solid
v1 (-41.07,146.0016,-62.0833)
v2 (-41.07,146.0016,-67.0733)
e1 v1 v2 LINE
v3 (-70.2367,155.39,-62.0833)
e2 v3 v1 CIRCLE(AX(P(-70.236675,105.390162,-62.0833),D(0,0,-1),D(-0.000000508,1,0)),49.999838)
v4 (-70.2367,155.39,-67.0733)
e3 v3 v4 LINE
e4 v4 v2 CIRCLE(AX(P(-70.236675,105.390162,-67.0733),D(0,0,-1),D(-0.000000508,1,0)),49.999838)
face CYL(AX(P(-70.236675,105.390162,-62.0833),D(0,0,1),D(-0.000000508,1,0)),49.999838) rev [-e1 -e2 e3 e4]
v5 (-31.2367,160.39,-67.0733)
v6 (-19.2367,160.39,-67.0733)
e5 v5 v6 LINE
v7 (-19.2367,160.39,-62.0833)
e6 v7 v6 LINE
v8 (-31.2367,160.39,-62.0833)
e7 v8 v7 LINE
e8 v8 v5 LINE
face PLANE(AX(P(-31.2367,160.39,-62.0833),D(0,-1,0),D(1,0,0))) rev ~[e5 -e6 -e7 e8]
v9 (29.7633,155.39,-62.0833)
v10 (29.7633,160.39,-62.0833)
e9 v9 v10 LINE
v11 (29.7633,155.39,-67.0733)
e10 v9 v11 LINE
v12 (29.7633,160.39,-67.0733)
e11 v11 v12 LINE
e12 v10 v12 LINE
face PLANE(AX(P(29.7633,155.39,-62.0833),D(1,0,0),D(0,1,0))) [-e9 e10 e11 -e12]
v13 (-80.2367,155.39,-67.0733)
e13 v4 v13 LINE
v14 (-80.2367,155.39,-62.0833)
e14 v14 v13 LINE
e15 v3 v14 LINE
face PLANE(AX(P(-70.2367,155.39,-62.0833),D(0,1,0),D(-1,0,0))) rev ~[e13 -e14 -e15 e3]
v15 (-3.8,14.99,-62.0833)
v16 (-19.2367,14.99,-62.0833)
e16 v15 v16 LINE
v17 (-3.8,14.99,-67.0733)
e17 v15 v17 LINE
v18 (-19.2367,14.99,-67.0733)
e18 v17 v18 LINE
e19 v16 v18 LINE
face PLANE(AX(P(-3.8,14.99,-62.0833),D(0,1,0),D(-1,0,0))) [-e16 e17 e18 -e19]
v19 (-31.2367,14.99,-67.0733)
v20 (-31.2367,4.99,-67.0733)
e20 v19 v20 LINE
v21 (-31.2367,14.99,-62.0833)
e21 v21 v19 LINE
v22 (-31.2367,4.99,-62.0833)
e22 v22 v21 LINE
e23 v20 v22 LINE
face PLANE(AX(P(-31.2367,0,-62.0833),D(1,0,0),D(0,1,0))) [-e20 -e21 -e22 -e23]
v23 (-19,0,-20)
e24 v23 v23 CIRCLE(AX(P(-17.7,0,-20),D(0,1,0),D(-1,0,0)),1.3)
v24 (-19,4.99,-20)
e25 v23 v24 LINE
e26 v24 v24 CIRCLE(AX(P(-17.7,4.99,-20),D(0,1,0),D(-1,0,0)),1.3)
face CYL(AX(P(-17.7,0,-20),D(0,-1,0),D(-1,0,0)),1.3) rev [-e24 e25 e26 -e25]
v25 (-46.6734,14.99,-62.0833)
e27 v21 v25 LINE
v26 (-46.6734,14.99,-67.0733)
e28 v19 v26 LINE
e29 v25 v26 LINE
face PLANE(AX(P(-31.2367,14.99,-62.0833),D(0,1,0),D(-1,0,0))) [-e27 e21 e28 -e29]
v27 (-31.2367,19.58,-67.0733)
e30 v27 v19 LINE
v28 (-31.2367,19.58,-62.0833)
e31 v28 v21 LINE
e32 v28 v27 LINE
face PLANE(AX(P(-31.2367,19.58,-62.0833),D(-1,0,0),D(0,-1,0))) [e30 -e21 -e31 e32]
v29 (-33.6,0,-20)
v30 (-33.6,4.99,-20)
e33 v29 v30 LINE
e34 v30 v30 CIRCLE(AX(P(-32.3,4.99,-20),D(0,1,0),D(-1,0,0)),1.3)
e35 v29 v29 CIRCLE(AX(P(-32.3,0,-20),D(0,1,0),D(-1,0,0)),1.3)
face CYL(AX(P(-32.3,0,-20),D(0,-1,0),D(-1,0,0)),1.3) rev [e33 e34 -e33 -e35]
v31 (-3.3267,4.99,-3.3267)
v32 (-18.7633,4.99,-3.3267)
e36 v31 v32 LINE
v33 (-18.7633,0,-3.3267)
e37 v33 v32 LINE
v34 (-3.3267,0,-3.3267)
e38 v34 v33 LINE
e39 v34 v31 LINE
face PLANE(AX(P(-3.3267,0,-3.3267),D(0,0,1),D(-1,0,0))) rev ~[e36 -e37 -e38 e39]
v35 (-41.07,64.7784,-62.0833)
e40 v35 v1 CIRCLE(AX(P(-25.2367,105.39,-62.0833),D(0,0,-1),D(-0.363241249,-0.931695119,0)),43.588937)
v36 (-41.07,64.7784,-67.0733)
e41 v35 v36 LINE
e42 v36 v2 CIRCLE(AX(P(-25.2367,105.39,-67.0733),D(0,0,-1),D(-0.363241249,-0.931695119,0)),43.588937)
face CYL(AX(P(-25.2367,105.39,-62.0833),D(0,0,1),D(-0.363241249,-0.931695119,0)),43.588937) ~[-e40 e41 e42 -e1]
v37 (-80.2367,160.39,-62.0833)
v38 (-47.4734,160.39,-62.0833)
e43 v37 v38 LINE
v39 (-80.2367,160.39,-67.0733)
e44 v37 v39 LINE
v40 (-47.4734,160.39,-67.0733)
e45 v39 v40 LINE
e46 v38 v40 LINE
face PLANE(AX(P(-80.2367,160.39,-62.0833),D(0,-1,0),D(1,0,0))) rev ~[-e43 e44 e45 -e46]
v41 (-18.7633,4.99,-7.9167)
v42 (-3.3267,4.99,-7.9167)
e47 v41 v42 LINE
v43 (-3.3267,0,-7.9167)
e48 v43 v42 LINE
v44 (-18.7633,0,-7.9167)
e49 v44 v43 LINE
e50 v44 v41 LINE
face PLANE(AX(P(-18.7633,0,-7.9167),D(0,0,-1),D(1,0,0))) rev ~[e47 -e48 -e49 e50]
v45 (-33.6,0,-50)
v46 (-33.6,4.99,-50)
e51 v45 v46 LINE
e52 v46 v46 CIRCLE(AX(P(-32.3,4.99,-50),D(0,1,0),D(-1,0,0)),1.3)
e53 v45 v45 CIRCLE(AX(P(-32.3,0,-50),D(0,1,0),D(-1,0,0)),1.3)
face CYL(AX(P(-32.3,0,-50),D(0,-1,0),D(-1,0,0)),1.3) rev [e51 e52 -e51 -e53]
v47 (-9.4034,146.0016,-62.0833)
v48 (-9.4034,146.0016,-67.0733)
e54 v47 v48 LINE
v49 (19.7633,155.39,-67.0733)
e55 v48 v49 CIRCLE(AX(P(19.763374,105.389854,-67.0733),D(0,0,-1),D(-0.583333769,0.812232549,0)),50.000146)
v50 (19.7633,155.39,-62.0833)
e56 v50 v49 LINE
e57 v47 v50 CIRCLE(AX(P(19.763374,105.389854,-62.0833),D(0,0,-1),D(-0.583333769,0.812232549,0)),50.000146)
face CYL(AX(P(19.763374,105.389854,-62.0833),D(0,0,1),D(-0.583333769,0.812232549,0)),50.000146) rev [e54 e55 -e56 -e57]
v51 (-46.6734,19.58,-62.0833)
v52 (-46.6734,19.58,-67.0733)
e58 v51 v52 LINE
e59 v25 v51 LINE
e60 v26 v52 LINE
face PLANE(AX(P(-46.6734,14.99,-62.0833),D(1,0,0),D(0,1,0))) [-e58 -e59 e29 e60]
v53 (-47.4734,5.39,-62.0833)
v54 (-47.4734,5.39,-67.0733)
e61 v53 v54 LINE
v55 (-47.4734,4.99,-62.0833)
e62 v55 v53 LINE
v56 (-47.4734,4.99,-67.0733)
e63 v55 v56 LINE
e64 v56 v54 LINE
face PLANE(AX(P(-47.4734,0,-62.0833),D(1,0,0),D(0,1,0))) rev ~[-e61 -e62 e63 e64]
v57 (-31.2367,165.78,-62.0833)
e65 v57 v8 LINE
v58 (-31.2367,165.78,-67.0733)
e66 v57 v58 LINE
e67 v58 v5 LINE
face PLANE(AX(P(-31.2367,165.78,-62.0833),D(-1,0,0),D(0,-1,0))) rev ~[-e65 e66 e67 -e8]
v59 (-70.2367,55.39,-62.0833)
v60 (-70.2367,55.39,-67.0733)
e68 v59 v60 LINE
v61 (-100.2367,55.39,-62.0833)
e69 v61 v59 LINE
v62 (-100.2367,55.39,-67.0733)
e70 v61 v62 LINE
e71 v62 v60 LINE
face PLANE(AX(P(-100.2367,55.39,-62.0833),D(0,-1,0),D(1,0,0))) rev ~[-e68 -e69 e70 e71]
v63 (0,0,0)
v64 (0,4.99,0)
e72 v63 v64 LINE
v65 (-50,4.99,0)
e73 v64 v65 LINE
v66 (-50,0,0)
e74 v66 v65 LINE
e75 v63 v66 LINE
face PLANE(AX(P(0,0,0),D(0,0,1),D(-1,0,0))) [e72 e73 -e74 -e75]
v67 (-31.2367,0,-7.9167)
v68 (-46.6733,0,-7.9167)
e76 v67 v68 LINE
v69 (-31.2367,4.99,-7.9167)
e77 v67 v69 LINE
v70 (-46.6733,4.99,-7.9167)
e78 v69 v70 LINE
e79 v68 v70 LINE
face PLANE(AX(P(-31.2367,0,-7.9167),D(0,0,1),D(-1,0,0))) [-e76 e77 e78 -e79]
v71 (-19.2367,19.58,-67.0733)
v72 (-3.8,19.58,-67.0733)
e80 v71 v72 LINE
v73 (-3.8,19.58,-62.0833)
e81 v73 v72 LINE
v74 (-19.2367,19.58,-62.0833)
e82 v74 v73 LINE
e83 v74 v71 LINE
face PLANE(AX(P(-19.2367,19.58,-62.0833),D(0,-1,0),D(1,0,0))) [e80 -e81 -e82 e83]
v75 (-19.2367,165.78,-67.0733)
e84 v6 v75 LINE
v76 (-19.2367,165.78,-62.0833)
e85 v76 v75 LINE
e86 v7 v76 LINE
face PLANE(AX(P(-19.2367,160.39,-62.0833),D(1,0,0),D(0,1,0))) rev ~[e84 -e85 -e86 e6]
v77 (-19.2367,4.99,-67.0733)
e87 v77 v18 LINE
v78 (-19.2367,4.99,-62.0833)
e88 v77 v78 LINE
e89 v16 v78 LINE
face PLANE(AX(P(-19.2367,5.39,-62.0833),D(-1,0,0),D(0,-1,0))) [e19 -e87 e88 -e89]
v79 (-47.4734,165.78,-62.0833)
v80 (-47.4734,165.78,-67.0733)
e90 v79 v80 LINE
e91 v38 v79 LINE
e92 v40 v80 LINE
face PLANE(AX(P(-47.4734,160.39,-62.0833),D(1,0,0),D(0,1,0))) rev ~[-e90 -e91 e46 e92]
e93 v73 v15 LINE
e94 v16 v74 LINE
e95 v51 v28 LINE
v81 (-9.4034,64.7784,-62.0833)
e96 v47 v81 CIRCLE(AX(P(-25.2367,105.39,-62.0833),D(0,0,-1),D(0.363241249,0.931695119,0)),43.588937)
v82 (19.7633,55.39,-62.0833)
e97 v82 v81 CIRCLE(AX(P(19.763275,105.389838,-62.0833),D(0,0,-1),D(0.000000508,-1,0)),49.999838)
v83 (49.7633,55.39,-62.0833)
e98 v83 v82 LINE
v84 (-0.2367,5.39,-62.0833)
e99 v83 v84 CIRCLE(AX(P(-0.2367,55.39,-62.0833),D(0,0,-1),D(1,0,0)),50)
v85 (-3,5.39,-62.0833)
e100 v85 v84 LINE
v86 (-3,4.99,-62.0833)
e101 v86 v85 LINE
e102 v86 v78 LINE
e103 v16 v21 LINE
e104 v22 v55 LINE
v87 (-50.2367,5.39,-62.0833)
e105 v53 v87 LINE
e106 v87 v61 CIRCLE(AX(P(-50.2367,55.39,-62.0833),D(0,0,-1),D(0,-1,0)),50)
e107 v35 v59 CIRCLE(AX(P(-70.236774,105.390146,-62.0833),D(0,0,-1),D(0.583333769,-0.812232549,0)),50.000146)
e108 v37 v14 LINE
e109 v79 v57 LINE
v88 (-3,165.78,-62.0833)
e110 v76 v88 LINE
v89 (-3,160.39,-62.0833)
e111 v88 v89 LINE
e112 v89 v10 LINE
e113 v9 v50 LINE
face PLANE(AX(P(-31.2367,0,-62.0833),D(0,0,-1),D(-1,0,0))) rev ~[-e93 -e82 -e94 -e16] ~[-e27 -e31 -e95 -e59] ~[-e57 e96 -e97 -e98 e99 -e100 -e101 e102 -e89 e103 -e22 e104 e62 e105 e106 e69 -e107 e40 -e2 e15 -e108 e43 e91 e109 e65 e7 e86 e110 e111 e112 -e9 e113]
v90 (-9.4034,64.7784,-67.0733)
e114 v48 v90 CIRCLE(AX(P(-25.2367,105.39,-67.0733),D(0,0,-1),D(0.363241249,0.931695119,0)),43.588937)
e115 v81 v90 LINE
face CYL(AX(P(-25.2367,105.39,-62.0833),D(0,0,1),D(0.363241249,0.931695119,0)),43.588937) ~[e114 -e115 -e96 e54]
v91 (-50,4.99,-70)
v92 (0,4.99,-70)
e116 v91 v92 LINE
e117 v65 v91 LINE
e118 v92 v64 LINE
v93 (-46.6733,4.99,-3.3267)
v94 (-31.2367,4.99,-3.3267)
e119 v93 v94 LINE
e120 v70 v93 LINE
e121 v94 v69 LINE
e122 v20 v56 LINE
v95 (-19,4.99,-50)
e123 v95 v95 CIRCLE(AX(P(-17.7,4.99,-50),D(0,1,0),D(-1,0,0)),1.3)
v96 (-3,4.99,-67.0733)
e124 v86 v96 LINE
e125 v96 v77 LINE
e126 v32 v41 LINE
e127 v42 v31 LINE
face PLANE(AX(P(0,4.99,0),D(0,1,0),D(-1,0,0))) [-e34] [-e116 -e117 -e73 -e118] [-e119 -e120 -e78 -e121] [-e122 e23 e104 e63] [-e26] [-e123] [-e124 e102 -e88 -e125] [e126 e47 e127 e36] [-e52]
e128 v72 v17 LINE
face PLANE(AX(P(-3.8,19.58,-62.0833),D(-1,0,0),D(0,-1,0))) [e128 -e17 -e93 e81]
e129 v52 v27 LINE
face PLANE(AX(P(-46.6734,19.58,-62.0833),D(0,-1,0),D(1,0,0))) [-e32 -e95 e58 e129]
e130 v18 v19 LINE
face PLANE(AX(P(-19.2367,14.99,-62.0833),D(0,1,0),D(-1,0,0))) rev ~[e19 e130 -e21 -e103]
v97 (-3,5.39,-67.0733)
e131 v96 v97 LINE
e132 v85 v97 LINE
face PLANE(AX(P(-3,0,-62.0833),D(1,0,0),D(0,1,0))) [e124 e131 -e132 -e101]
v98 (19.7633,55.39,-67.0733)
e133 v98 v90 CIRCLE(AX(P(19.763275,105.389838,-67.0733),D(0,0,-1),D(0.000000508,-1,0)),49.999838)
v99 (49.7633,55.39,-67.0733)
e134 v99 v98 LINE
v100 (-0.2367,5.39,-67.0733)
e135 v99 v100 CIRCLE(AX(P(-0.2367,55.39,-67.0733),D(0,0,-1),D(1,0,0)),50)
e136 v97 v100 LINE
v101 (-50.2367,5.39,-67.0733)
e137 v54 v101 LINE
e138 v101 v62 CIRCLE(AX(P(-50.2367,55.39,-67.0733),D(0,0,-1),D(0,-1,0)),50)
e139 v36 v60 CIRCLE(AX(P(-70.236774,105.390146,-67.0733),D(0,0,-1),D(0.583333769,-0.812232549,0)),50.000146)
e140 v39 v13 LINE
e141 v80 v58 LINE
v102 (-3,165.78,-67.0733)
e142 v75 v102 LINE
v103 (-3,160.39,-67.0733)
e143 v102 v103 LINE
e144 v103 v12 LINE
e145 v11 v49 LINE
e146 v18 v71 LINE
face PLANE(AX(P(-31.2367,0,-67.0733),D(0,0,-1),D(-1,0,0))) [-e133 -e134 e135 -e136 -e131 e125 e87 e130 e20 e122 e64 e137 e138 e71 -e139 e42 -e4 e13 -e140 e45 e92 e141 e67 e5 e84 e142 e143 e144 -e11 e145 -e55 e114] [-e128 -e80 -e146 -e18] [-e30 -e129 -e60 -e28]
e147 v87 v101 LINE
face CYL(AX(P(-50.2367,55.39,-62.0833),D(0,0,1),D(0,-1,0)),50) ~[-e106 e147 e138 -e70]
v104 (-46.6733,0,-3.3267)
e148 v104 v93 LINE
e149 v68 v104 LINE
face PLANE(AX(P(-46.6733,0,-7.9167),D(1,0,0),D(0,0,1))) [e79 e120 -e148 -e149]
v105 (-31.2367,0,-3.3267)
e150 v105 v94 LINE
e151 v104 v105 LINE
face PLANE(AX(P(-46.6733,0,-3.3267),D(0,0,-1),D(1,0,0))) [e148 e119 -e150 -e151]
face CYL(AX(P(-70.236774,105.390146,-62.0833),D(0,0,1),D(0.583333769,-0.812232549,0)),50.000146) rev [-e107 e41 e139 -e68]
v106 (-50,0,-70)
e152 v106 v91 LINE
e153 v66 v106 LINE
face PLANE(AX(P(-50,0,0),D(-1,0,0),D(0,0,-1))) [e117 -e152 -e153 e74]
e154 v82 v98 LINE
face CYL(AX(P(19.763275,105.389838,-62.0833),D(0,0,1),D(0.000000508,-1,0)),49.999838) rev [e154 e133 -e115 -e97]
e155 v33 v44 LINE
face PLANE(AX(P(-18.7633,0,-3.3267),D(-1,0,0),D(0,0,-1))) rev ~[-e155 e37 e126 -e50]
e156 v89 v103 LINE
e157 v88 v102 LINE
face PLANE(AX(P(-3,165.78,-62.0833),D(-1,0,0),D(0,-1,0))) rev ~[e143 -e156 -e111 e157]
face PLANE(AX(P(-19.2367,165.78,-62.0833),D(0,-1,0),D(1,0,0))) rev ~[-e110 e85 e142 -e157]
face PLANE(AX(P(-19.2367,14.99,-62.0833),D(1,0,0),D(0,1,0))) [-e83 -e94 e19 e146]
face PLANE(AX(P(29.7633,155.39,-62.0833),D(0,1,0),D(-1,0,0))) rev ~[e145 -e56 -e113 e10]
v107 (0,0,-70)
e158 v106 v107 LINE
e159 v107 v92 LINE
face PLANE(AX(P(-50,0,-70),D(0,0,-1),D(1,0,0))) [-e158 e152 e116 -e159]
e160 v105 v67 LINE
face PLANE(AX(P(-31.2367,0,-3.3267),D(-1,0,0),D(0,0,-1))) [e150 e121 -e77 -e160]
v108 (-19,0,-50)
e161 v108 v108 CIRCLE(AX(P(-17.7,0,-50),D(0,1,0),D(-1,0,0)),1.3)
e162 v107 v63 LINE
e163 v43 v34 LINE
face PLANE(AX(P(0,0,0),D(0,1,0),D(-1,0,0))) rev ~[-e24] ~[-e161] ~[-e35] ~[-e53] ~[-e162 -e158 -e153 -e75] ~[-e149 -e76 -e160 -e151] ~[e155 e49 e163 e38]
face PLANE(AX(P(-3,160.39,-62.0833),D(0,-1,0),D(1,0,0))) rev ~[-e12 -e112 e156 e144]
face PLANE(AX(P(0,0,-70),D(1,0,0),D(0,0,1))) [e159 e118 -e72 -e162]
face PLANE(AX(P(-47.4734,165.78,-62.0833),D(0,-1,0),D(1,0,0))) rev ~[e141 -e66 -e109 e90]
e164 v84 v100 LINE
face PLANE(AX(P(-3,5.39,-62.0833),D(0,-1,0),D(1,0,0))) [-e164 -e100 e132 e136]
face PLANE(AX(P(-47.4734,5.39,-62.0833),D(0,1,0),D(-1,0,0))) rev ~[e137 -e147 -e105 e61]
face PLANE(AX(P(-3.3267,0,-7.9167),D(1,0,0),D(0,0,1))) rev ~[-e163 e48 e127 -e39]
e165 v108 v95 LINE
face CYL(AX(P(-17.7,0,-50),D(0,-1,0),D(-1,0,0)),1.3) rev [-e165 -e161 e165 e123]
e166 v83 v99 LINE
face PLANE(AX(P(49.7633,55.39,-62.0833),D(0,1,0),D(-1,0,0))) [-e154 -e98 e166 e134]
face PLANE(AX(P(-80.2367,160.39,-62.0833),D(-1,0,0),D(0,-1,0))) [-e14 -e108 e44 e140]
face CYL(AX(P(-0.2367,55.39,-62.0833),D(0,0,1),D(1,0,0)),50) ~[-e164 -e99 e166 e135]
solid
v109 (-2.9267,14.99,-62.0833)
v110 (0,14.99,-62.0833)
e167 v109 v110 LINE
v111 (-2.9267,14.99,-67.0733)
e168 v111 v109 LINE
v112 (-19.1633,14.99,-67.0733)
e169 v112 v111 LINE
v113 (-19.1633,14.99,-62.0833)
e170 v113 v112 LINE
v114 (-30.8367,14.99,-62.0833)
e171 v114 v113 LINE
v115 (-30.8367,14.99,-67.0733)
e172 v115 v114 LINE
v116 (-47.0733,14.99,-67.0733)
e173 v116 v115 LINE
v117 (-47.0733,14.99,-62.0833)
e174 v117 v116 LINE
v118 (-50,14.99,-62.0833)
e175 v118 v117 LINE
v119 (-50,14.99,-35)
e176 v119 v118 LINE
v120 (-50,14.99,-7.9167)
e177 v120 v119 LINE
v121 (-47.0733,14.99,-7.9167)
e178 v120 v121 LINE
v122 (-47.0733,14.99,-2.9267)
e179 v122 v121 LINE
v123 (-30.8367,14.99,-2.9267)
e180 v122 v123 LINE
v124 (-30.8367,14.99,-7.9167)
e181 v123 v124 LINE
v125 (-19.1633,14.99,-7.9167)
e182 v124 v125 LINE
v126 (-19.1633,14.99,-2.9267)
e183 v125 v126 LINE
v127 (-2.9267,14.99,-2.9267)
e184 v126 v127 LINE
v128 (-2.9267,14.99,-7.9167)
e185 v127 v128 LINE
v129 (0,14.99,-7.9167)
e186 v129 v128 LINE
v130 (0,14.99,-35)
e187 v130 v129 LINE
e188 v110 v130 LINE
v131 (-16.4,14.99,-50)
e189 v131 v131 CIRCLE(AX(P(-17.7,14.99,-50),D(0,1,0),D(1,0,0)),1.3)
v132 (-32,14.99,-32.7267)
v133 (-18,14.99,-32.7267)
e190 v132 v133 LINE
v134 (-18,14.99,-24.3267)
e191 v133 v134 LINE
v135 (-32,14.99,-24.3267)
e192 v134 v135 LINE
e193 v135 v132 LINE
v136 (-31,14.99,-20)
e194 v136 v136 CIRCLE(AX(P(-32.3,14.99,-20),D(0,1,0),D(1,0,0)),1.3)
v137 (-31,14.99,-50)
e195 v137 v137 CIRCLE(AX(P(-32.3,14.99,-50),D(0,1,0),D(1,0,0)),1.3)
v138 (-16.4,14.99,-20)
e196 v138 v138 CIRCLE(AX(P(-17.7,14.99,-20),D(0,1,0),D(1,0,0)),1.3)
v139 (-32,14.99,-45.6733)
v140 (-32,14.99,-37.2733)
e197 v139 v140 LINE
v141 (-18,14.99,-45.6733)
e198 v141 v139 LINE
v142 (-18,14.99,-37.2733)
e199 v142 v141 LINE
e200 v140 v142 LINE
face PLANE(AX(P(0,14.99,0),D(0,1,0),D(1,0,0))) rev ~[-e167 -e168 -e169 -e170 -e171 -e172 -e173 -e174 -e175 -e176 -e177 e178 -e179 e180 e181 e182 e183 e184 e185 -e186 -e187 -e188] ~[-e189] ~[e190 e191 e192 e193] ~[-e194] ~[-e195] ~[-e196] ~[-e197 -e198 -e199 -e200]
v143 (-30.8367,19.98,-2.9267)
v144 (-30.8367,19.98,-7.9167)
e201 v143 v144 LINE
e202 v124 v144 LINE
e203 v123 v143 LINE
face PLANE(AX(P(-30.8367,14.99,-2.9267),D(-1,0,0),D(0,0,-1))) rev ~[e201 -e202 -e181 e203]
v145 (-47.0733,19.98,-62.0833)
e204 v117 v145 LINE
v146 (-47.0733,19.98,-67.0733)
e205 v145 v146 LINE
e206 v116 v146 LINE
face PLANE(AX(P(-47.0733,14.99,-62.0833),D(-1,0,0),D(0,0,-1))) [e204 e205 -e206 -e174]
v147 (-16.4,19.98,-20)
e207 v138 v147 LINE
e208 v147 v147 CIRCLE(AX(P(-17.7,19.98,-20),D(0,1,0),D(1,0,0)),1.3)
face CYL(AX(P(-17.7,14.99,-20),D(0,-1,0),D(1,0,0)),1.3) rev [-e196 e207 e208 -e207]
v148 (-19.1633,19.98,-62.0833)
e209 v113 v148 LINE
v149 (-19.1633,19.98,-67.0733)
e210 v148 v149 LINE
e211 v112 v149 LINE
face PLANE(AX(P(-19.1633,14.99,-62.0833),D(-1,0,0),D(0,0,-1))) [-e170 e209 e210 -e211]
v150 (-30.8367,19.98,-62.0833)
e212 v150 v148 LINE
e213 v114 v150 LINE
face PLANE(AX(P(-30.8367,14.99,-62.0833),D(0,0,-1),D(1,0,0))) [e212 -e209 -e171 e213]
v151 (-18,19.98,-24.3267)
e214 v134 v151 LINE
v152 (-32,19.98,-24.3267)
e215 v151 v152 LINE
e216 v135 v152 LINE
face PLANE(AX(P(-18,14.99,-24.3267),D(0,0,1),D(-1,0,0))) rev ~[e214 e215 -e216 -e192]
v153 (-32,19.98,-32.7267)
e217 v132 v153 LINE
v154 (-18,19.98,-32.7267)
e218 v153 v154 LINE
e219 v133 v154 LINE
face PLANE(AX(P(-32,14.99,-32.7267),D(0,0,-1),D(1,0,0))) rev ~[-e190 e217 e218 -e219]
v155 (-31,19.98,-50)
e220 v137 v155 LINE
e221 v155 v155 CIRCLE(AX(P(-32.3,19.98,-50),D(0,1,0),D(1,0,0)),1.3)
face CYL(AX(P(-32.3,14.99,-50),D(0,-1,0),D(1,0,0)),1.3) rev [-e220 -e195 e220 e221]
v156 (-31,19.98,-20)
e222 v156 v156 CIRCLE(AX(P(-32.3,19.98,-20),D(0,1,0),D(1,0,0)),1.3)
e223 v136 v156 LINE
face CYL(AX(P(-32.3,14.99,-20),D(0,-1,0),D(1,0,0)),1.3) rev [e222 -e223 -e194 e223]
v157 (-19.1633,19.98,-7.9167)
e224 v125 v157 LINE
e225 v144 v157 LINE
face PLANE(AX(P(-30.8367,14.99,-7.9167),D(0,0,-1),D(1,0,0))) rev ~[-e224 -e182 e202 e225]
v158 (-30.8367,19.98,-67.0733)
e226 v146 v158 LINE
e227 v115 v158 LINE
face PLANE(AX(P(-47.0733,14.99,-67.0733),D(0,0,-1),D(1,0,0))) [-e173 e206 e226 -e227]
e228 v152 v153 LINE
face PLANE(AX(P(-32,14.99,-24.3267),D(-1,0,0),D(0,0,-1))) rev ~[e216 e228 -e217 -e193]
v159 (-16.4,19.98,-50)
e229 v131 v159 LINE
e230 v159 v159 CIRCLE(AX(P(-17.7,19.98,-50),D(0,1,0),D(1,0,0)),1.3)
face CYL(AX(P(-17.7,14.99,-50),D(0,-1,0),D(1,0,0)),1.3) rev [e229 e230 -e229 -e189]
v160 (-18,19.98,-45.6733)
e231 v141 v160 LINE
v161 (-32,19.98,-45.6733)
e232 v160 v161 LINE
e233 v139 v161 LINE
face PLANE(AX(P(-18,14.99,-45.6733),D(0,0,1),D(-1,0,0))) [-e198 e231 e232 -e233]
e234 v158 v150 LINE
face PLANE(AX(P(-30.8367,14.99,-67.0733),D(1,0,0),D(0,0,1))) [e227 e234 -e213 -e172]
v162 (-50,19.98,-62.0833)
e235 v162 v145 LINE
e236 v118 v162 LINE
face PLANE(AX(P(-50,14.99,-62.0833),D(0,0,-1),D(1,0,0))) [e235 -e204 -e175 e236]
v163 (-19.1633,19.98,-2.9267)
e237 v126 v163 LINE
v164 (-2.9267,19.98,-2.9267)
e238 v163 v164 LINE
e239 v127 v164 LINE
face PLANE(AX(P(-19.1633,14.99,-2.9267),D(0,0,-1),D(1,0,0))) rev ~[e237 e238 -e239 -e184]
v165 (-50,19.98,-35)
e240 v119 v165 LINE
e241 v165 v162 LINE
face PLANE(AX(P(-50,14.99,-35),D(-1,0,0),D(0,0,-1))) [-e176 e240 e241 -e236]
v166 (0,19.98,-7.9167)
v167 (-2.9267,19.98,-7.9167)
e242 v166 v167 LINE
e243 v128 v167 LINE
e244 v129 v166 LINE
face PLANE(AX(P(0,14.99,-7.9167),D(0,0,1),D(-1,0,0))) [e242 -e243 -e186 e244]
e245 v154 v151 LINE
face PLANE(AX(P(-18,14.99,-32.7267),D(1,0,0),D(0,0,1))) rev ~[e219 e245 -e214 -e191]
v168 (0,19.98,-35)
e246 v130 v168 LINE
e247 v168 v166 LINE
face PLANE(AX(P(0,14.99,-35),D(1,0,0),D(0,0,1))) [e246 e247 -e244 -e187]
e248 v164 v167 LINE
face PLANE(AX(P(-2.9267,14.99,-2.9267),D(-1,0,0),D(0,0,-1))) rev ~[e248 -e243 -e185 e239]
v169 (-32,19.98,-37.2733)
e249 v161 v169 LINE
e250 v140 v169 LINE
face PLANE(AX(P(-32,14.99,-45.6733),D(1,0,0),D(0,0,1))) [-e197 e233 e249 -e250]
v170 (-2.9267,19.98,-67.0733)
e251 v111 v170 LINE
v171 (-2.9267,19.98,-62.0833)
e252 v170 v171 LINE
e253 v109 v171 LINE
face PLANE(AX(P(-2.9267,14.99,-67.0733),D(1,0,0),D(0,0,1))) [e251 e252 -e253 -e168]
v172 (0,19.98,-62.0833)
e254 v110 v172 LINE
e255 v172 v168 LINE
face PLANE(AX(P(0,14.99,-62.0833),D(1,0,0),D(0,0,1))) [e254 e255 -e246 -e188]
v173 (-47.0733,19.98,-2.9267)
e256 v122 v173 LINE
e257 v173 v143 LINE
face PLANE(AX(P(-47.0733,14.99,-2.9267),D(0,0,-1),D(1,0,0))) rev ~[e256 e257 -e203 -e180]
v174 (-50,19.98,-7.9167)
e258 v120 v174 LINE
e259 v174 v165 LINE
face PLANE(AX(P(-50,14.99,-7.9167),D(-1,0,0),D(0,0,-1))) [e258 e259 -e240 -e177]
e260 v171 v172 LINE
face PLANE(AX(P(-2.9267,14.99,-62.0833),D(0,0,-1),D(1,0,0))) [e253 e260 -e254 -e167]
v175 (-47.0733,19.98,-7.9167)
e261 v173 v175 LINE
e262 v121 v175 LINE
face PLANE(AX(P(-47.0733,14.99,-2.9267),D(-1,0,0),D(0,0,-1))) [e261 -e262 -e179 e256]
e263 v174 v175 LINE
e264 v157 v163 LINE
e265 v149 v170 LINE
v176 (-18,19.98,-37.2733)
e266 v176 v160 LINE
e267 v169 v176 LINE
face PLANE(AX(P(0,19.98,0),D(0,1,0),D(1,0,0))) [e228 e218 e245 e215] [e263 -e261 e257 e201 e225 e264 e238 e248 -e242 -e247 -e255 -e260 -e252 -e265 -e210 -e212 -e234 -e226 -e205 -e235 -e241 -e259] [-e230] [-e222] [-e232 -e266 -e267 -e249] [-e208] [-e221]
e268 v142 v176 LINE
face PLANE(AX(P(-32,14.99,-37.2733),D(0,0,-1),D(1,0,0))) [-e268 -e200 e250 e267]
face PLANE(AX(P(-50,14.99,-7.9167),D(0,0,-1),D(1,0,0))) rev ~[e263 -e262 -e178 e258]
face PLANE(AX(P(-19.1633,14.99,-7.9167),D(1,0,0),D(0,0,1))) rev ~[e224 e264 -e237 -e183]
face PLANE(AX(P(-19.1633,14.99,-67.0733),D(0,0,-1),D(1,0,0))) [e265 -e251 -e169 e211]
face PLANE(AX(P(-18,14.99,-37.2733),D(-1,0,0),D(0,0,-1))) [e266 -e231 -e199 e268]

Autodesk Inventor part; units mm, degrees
ref_plane "YZ Plane" through (0, 0, 0) normal (1, 0, 0) x (0, 1, 0)
ref_plane "XZ Plane" through (0, 0, 0) normal (0, 1, 0) x (-1, 0, 0)
ref_plane "XY Plane" through (0, 0, 0) normal (0, 0, 1) x (1, 0, 0)
sketch "Sketch1" plane through (0, 0, 0) normal (0, 1, 0) x (-1, 0, 0)
  line L0 (0, 0) -> (50, 0)
  line L1 (50, 0) -> (50, -70)
  line L2 (50, -70) -> (0, -70)
  line L3 (0, -70) -> (0, 0)
  line L4 (25, 0) -> (25, -70) construction
  line L5 (31, -70) -> (19, -70) construction
  line L6 (19, -70) -> (19, 0) construction
  line L7 (19, 0) -> (31, 0) construction
  line L8 (31, 0) -> (31, -70) construction
  line L9 (31, -70) -> (19, -70) construction
  line L10 (19, -70) -> (19, -41.2) construction
  line L11 (19, -41.2) -> (31, -41.2) construction
  line L12 (31, -41.2) -> (31, -70) construction
  line L13 (31, 0) -> (19, 0) construction
  line L14 (19, 0) -> (19, -28.8) construction
  line L15 (19, -28.8) -> (31, -28.8) construction
  line L16 (31, -28.8) -> (31, 0) construction
  line L17 (46.6733, -3.3267) -> (3.3267, -3.3267) construction
  line L18 (3.3267, -3.3267) -> (3.3267, -66.6733) construction
  line L19 (3.3267, -66.6733) -> (46.6733, -66.6733) construction
  line L20 (46.6733, -66.6733) -> (46.6733, -3.3267) construction
  line L21 (46.6733, -3.3267) -> (31.2367, -3.3267)
  line L22 (31.2367, -3.3267) -> (31.2367, -7.9167)
  line L23 (31.2367, -7.9167) -> (46.6733, -7.9167)
  line L24 (46.6733, -7.9167) -> (46.6733, -3.3267)
  line L25 (46.6733, -66.6733) -> (31.2367, -66.6733)
  line L26 (31.2367, -66.6733) -> (31.2367, -62.0833)
  line L27 (31.2367, -62.0833) -> (46.6733, -62.0833)
  line L28 (46.6733, -62.0833) -> (46.6733, -66.6733)
  line L29 (3.3267, -66.6733) -> (18.7633, -66.6733)
  line L30 (18.7633, -66.6733) -> (18.7633, -62.0833)
  line L31 (18.7633, -62.0833) -> (3.3267, -62.0833)
  line L32 (3.3267, -62.0833) -> (3.3267, -66.6733)
  line L33 (3.3267, -3.3267) -> (18.7633, -3.3267)
  line L34 (18.7633, -3.3267) -> (18.7633, -7.9167)
  line L35 (18.7633, -7.9167) -> (3.3267, -7.9167)
  line L36 (3.3267, -7.9167) -> (3.3267, -3.3267)
  circle A0 centre (17.7, -20) radius 1.3
  circle A1 centre (32.3, -20) radius 1.3
  circle A2 centre (32.3, -50) radius 1.3
  circle A3 centre (17.7, -50) radius 1.3
  dimension "d0" = 70
  dimension "d1" = 50
  dimension "d6" = 12
  dimension "d8" = 28.8
  dimension "d10" = 28.8
  dimension "d16" = 3.3267
  dimension "d17" = 3.3267
  dimension "d18" = 3.3267
  dimension "d19" = 3.3267
  dimension "d20" = 4.59
  dimension "d21" = 15.4367
  dimension "visse_dist" = 20
  dimension "d26" = 2.6
  dimension "d27" = 20
  dimension "d28" = 20
  dimension "d29" = 20
extrude "Extrusion2" add sketch "Sketch1" along normal blind 4.99
ref_plane "Work Plane1" through (0, 14.99, 0) normal (0, 1, 0) x (1, 0, 0)
ref_plane "Work Plane2" through (-31.2367, 0, -62.0833) normal (0, 0, -1) x (-1, 0, 0)
sketch "Sketch3" plane through (-31.2367, 0, -62.0833) normal (0, 0, -1) x (-1, 0, 0)
  line L0 (0, 0) -> (16.2367, 0)
  line L1 (16.2367, 0) -> (16.2367, 5.39)
  line L2 (16.2367, 5.39) -> (19, 5.39)
  line L3 (0, 0) -> (0, 5.39)
  line L4 (0, 5.39) -> (-12, 5.39) construction
  line L5 (-12, 5.39) -> (-12, 0)
  line L6 (-12, 0) -> (-28.2367, 0)
  line L7 (-28.2367, 0) -> (-28.2367, 5.39)
  line L8 (-28.2367, 5.39) -> (-31, 5.39)
  arc A0 (19, 5.39) -> (69, 55.39) centre (19, 55.39) ccw
  line L9 (19, 55.39) -> (69, 55.39) construction
  arc A1 (-81, 55.39) -> (-31, 5.39) centre (-31, 55.39) ccw
  line L10 (-81, 55.39) -> (-31, 55.39) construction
  line L11 (-81, 55.39) -> (-51, 55.39)
  line L12 (69, 55.39) -> (39, 55.39)
  line L13 (-61, 155.39) -> (-51, 155.39)
  arc A2 (39, 155.39) -> (9.8333, 146.0016) centre (39, 105.39) ccw
  arc A3 (-51, 55.39) -> (-21.8333, 64.7784) centre (-51, 105.39) ccw
  line L14 (-51, 105.39) -> (39, 105.39) construction
  arc A4 (-21.8333, 146.0016) -> (-21.8333, 64.7784) centre (-6, 105.39) ccw
  arc A5 (-21.8333, 146.0016) -> (-51, 155.39) centre (-51, 105.39) ccw
  arc A6 (9.8333, 146.0016) -> (9.8333, 64.7784) centre (39, 105.39) ccw construction
  arc A7 (9.8333, 64.7784) -> (39, 55.39) centre (39, 105.39) ccw
  arc A8 (-21.8333, 64.7784) -> (-21.8333, 146.0016) centre (-51, 105.39) ccw construction
  arc A9 (9.8333, 146.0016) -> (-21.8333, 146.0016) centre (-6, 105.39) ccw construction
  arc A10 (9.8333, 64.7784) -> (9.8333, 146.0016) centre (-6, 105.39) ccw
  arc A11 (-21.8333, 64.7784) -> (9.8333, 64.7784) centre (-6, 105.39) ccw construction
  line L15 (-51, 155.39) -> (39, 155.39) construction
  line L16 (39, 155.39) -> (49, 155.39)
  line L17 (-61, 155.39) -> (-61, 160.39)
  line L18 (49, 160.39) -> (49, 155.39)
  line L19 (49, 160.39) -> (16.2367, 160.39)
  line L20 (16.2367, 160.39) -> (16.2367, 165.78)
  line L21 (16.2367, 165.78) -> (0, 165.78)
  line L22 (0, 165.78) -> (0, 160.39)
  line L23 (0, 160.39) -> (-12, 160.39)
  line L24 (-12, 160.39) -> (-12, 165.78)
  line L25 (-12, 165.78) -> (-28.2367, 165.78)
  line L26 (-28.2367, 165.78) -> (-28.2367, 160.39)
  line L27 (-28.2367, 160.39) -> (-61, 160.39)
  line L28 (-27.4367, 14.99) -> (-12, 14.99)
  line L29 (-12, 14.99) -> (-12, 19.58)
  line L30 (-12, 19.58) -> (-27.4367, 19.58)
  line L31 (-27.4367, 19.58) -> (-27.4367, 14.99)
  line L32 (0, 14.99) -> (15.4367, 14.99)
  line L33 (15.4367, 14.99) -> (15.4367, 19.58)
  line L34 (15.4367, 19.58) -> (0, 19.58)
  line L35 (0, 19.58) -> (0, 14.99)
  line L36 (-125.4975, 14.99) -> (113.4975, 14.99) construction
  line L37 (-12, 14.99) -> (0, 14.99) construction
  line L38 (-12, 17.285) -> (0, 17.285) construction
  line L39 (-12, 5.39) -> (-12, 14.99)
  line L40 (-12, 14.99) -> (0, 14.99)
  line L41 (0, 14.99) -> (0, 5.39)
  point P0 (-31.2367, 0)
  point P1 (-6, 5.39)
  point P2 (-6, 83.5955)
  point P3 (-28.2367, 14.99)
  point P4 (16.2367, 14.99)
  point P5 (-6, 14.99)
  point P6 (-6, 17.285)
  point P7 (18.7633, 4.99)
  dimension "d34" = 16.2367
  dimension "d35" = 5.39
  dimension "d36" = 12
  dimension "d37" = 50
  dimension "body_extra_r" = 50
  dimension "body_angle" = 90
  dimension "d42" = 50
  dimension "d43" = 90
  dimension "d45" = 150
  dimension "extra_flat" = 30
  dimension "d48" = 21.7945
  dimension "d49" = 87.178
  dimension "d50" = 10
  dimension "d51" = 5
  dimension "d65" = 4.59
  dimension "d66" = 15.4367
  dimension "d67" = 3.3267
  dimension "d68" = 9.6
sketch "Sketch4" plane through (-31.2367, 0, -62.0833) normal (0, 0, -1) x (-1, 0, 0)
  point P0 (-31.2367, 0)
sketch "Sketch5" plane through (0, 14.99, 0) normal (0, 1, 0) x (1, 0, 0)
  line L0 (0, 0) -> (0, 70) construction
  line L1 (0, 62.0833) -> (0, 35) construction
  line L2 (-50, 0) -> (0, 0) construction
  line L3 (-50, 70) -> (-50, 0) construction
  line L4 (-50, 7.9167) -> (-50, 35)
  line L5 (-46.6733, 7.9167) -> (-31.2367, 7.9167) construction
  line L6 (-18.7633, 7.9167) -> (-3.3267, 7.9167) construction
  line L7 (0, 70) -> (-50, 70) construction
  line L8 (-50, 7.9167) -> (0, 7.9167) construction
  line L9 (-3.3267, 7.9167) -> (-18.7633, 7.9167) construction
  line L10 (-50, 7.9167) -> (-47.0733, 7.9167)
  line L11 (-47.0733, 2.9267) -> (-30.8367, 2.9267)
  line L12 (-30.8367, 2.9267) -> (-30.8367, 7.9167)
  line L13 (-19.1633, 7.9167) -> (-19.1633, 2.9267)
  line L14 (-19.1633, 2.9267) -> (-2.9267, 2.9267)
  line L15 (-47.0733, 2.9267) -> (-47.0733, 7.9167)
  line L16 (-30.8367, 7.9167) -> (-19.1633, 7.9167)
  line L17 (-46.6733, 3.3267) -> (-46.6733, 7.9167) construction
  line L18 (-31.2367, 7.9167) -> (-31.2367, 3.3267) construction
  line L19 (-18.7633, 3.3267) -> (-18.7633, 7.9167) construction
  line L20 (-3.3267, 7.9167) -> (-3.3267, 3.3267) construction
  line L21 (-46.6733, 5.6217) -> (-31.2367, 5.6217) construction
  line L22 (-18.7633, 7.9167) -> (-18.7633, 3.3267) construction
  line L23 (-18.7633, 5.6217) -> (-3.3267, 5.6217) construction
  line L24 (-2.9267, 2.9267) -> (-2.9267, 7.9167)
  line L25 (0, 7.9167) -> (-2.9267, 7.9167)
  line L26 (-50, 35) -> (0, 35) construction
  line L27 (-50, 35) -> (-50, 62.0833) construction
  line L28 (0, 35) -> (0, 7.9167)
  line L29 (-50, 35) -> (-50, 57.515) construction
  line L30 (-50, 35) -> (-50, 35)
  line L31 (-3.3267, 62.0833) -> (-18.7633, 62.0833) construction
  line L32 (-11.045, 62.0833) -> (-11.045, 7.9167) construction
  line L33 (-50, 35) -> (-50, 62.0833)
  line L34 (-50, 62.0833) -> (-47.0733, 62.0833)
  line L35 (-47.0733, 62.0833) -> (-47.0733, 67.0733)
  line L36 (-47.0733, 67.0733) -> (-30.8367, 67.0733)
  line L37 (-30.8367, 67.0733) -> (-30.8367, 62.0833)
  line L38 (-30.8367, 62.0833) -> (-19.1633, 62.0833)
  line L39 (-19.1633, 62.0833) -> (-19.1633, 67.0733)
  line L40 (-19.1633, 67.0733) -> (-2.9267, 67.0733)
  line L41 (-2.9267, 67.0733) -> (-2.9267, 62.0833)
  line L42 (-2.9267, 62.0833) -> (0, 62.0833)
  line L43 (0, 62.0833) -> (0, 35)
  circle A0 centre (-32.3, 20) radius 1.3 projected
  circle A1 centre (-32.3, 50) radius 1.3 projected
  circle A2 centre (-17.7, 50) radius 1.3 projected
  circle A3 centre (-17.7, 20) radius 1.3 projected
  line L44 (-32, 32.7267) -> (-18, 32.7267)
  line L45 (-18, 32.7267) -> (-18, 24.3267)
  line L46 (-18, 24.3267) -> (-32, 24.3267)
  line L47 (-32, 24.3267) -> (-32, 32.7267)
  line L48 (-50, 31.7267) -> (0, 31.7267) construction
  line L49 (-32, 37.2733) -> (-18, 37.2733)
  line L50 (-18, 37.2733) -> (-18, 45.6733)
  line L51 (-18, 45.6733) -> (-32, 45.6733)
  line L52 (-32, 45.6733) -> (-32, 37.2733)
  point P0 (-25, 7.9167)
  point P1 (-38.955, 5.6217)
  point P2 (-38.955, 2.9267)
  point P3 (-11.045, 5.6217)
  point P4 (-11.045, 2.9267)
  point P5 (-11.045, 35)
  point P6 (-25, 24.3267)
  point P7 (-25, 7.9167)
  point P8 (-32, 28.5267)
  dimension "d55" = 4.99
  dimension "d56" = 16.2367
  dimension "d57" = 14
  dimension "d58" = 8.4
  dimension "d61" = 28.8
  dimension "motor_margin" = 1
extrude "Extrusion4" add sketch "Sketch5" along normal blind 4.99 separate body
extrude "Extrusion5" add sketch "Sketch3" along normal blind 4.99 bodies 1
equation "\"d0\" = base_L"
equation "\"d1\" = base_l"
equation "\"d6\" = motor_width"
equation "\"d8\" = extrud1 + extrud3"
equation "\"d10\" = d8"
equation "\"d16\" = extra_wood"
equation "\"d17\" = d16"
equation "\"d18\" = d16"
equation "\"d19\" = d17"
equation "\"d20\" = fente_l"
equation "\"d21\" = fente_L"
equation "\"d26\" = vis_moteur_d"
equation "\"d27\" = visse_dist"
equation "\"d28\" = visse_dist"
equation "\"d29\" = visse_dist"
equation "\"d30\" = thick"
equation "\"d34\" = male_L"
equation "\"d35\" = male_l"
equation "\"d36\" = motor_width"
equation "\"d37\" = base_l"
equation "\"d42\" = body_extra_r"
equation "\"d43\" = body_angle"
equation "\"base_L\" = 70"
equation "\"base_l\" = 50"
equation "\"motor_width\" = 12"
equation "\"extrud1\" = 22.4"
equation "\"extrud3\" = 6.4"
equation "\"extra_wood\" = 3.326667"
equation "\"fente_l\" = 4.59"
equation "\"fente_L\" = 15.436667"
equation "\"vis_moteur_d\" = 2.6"
equation "\"thick\" = 4.99"
equation "\"male_L\" = 16.236667"
equation "\"male_l\" = 5.39"
properties part number "new_base"
